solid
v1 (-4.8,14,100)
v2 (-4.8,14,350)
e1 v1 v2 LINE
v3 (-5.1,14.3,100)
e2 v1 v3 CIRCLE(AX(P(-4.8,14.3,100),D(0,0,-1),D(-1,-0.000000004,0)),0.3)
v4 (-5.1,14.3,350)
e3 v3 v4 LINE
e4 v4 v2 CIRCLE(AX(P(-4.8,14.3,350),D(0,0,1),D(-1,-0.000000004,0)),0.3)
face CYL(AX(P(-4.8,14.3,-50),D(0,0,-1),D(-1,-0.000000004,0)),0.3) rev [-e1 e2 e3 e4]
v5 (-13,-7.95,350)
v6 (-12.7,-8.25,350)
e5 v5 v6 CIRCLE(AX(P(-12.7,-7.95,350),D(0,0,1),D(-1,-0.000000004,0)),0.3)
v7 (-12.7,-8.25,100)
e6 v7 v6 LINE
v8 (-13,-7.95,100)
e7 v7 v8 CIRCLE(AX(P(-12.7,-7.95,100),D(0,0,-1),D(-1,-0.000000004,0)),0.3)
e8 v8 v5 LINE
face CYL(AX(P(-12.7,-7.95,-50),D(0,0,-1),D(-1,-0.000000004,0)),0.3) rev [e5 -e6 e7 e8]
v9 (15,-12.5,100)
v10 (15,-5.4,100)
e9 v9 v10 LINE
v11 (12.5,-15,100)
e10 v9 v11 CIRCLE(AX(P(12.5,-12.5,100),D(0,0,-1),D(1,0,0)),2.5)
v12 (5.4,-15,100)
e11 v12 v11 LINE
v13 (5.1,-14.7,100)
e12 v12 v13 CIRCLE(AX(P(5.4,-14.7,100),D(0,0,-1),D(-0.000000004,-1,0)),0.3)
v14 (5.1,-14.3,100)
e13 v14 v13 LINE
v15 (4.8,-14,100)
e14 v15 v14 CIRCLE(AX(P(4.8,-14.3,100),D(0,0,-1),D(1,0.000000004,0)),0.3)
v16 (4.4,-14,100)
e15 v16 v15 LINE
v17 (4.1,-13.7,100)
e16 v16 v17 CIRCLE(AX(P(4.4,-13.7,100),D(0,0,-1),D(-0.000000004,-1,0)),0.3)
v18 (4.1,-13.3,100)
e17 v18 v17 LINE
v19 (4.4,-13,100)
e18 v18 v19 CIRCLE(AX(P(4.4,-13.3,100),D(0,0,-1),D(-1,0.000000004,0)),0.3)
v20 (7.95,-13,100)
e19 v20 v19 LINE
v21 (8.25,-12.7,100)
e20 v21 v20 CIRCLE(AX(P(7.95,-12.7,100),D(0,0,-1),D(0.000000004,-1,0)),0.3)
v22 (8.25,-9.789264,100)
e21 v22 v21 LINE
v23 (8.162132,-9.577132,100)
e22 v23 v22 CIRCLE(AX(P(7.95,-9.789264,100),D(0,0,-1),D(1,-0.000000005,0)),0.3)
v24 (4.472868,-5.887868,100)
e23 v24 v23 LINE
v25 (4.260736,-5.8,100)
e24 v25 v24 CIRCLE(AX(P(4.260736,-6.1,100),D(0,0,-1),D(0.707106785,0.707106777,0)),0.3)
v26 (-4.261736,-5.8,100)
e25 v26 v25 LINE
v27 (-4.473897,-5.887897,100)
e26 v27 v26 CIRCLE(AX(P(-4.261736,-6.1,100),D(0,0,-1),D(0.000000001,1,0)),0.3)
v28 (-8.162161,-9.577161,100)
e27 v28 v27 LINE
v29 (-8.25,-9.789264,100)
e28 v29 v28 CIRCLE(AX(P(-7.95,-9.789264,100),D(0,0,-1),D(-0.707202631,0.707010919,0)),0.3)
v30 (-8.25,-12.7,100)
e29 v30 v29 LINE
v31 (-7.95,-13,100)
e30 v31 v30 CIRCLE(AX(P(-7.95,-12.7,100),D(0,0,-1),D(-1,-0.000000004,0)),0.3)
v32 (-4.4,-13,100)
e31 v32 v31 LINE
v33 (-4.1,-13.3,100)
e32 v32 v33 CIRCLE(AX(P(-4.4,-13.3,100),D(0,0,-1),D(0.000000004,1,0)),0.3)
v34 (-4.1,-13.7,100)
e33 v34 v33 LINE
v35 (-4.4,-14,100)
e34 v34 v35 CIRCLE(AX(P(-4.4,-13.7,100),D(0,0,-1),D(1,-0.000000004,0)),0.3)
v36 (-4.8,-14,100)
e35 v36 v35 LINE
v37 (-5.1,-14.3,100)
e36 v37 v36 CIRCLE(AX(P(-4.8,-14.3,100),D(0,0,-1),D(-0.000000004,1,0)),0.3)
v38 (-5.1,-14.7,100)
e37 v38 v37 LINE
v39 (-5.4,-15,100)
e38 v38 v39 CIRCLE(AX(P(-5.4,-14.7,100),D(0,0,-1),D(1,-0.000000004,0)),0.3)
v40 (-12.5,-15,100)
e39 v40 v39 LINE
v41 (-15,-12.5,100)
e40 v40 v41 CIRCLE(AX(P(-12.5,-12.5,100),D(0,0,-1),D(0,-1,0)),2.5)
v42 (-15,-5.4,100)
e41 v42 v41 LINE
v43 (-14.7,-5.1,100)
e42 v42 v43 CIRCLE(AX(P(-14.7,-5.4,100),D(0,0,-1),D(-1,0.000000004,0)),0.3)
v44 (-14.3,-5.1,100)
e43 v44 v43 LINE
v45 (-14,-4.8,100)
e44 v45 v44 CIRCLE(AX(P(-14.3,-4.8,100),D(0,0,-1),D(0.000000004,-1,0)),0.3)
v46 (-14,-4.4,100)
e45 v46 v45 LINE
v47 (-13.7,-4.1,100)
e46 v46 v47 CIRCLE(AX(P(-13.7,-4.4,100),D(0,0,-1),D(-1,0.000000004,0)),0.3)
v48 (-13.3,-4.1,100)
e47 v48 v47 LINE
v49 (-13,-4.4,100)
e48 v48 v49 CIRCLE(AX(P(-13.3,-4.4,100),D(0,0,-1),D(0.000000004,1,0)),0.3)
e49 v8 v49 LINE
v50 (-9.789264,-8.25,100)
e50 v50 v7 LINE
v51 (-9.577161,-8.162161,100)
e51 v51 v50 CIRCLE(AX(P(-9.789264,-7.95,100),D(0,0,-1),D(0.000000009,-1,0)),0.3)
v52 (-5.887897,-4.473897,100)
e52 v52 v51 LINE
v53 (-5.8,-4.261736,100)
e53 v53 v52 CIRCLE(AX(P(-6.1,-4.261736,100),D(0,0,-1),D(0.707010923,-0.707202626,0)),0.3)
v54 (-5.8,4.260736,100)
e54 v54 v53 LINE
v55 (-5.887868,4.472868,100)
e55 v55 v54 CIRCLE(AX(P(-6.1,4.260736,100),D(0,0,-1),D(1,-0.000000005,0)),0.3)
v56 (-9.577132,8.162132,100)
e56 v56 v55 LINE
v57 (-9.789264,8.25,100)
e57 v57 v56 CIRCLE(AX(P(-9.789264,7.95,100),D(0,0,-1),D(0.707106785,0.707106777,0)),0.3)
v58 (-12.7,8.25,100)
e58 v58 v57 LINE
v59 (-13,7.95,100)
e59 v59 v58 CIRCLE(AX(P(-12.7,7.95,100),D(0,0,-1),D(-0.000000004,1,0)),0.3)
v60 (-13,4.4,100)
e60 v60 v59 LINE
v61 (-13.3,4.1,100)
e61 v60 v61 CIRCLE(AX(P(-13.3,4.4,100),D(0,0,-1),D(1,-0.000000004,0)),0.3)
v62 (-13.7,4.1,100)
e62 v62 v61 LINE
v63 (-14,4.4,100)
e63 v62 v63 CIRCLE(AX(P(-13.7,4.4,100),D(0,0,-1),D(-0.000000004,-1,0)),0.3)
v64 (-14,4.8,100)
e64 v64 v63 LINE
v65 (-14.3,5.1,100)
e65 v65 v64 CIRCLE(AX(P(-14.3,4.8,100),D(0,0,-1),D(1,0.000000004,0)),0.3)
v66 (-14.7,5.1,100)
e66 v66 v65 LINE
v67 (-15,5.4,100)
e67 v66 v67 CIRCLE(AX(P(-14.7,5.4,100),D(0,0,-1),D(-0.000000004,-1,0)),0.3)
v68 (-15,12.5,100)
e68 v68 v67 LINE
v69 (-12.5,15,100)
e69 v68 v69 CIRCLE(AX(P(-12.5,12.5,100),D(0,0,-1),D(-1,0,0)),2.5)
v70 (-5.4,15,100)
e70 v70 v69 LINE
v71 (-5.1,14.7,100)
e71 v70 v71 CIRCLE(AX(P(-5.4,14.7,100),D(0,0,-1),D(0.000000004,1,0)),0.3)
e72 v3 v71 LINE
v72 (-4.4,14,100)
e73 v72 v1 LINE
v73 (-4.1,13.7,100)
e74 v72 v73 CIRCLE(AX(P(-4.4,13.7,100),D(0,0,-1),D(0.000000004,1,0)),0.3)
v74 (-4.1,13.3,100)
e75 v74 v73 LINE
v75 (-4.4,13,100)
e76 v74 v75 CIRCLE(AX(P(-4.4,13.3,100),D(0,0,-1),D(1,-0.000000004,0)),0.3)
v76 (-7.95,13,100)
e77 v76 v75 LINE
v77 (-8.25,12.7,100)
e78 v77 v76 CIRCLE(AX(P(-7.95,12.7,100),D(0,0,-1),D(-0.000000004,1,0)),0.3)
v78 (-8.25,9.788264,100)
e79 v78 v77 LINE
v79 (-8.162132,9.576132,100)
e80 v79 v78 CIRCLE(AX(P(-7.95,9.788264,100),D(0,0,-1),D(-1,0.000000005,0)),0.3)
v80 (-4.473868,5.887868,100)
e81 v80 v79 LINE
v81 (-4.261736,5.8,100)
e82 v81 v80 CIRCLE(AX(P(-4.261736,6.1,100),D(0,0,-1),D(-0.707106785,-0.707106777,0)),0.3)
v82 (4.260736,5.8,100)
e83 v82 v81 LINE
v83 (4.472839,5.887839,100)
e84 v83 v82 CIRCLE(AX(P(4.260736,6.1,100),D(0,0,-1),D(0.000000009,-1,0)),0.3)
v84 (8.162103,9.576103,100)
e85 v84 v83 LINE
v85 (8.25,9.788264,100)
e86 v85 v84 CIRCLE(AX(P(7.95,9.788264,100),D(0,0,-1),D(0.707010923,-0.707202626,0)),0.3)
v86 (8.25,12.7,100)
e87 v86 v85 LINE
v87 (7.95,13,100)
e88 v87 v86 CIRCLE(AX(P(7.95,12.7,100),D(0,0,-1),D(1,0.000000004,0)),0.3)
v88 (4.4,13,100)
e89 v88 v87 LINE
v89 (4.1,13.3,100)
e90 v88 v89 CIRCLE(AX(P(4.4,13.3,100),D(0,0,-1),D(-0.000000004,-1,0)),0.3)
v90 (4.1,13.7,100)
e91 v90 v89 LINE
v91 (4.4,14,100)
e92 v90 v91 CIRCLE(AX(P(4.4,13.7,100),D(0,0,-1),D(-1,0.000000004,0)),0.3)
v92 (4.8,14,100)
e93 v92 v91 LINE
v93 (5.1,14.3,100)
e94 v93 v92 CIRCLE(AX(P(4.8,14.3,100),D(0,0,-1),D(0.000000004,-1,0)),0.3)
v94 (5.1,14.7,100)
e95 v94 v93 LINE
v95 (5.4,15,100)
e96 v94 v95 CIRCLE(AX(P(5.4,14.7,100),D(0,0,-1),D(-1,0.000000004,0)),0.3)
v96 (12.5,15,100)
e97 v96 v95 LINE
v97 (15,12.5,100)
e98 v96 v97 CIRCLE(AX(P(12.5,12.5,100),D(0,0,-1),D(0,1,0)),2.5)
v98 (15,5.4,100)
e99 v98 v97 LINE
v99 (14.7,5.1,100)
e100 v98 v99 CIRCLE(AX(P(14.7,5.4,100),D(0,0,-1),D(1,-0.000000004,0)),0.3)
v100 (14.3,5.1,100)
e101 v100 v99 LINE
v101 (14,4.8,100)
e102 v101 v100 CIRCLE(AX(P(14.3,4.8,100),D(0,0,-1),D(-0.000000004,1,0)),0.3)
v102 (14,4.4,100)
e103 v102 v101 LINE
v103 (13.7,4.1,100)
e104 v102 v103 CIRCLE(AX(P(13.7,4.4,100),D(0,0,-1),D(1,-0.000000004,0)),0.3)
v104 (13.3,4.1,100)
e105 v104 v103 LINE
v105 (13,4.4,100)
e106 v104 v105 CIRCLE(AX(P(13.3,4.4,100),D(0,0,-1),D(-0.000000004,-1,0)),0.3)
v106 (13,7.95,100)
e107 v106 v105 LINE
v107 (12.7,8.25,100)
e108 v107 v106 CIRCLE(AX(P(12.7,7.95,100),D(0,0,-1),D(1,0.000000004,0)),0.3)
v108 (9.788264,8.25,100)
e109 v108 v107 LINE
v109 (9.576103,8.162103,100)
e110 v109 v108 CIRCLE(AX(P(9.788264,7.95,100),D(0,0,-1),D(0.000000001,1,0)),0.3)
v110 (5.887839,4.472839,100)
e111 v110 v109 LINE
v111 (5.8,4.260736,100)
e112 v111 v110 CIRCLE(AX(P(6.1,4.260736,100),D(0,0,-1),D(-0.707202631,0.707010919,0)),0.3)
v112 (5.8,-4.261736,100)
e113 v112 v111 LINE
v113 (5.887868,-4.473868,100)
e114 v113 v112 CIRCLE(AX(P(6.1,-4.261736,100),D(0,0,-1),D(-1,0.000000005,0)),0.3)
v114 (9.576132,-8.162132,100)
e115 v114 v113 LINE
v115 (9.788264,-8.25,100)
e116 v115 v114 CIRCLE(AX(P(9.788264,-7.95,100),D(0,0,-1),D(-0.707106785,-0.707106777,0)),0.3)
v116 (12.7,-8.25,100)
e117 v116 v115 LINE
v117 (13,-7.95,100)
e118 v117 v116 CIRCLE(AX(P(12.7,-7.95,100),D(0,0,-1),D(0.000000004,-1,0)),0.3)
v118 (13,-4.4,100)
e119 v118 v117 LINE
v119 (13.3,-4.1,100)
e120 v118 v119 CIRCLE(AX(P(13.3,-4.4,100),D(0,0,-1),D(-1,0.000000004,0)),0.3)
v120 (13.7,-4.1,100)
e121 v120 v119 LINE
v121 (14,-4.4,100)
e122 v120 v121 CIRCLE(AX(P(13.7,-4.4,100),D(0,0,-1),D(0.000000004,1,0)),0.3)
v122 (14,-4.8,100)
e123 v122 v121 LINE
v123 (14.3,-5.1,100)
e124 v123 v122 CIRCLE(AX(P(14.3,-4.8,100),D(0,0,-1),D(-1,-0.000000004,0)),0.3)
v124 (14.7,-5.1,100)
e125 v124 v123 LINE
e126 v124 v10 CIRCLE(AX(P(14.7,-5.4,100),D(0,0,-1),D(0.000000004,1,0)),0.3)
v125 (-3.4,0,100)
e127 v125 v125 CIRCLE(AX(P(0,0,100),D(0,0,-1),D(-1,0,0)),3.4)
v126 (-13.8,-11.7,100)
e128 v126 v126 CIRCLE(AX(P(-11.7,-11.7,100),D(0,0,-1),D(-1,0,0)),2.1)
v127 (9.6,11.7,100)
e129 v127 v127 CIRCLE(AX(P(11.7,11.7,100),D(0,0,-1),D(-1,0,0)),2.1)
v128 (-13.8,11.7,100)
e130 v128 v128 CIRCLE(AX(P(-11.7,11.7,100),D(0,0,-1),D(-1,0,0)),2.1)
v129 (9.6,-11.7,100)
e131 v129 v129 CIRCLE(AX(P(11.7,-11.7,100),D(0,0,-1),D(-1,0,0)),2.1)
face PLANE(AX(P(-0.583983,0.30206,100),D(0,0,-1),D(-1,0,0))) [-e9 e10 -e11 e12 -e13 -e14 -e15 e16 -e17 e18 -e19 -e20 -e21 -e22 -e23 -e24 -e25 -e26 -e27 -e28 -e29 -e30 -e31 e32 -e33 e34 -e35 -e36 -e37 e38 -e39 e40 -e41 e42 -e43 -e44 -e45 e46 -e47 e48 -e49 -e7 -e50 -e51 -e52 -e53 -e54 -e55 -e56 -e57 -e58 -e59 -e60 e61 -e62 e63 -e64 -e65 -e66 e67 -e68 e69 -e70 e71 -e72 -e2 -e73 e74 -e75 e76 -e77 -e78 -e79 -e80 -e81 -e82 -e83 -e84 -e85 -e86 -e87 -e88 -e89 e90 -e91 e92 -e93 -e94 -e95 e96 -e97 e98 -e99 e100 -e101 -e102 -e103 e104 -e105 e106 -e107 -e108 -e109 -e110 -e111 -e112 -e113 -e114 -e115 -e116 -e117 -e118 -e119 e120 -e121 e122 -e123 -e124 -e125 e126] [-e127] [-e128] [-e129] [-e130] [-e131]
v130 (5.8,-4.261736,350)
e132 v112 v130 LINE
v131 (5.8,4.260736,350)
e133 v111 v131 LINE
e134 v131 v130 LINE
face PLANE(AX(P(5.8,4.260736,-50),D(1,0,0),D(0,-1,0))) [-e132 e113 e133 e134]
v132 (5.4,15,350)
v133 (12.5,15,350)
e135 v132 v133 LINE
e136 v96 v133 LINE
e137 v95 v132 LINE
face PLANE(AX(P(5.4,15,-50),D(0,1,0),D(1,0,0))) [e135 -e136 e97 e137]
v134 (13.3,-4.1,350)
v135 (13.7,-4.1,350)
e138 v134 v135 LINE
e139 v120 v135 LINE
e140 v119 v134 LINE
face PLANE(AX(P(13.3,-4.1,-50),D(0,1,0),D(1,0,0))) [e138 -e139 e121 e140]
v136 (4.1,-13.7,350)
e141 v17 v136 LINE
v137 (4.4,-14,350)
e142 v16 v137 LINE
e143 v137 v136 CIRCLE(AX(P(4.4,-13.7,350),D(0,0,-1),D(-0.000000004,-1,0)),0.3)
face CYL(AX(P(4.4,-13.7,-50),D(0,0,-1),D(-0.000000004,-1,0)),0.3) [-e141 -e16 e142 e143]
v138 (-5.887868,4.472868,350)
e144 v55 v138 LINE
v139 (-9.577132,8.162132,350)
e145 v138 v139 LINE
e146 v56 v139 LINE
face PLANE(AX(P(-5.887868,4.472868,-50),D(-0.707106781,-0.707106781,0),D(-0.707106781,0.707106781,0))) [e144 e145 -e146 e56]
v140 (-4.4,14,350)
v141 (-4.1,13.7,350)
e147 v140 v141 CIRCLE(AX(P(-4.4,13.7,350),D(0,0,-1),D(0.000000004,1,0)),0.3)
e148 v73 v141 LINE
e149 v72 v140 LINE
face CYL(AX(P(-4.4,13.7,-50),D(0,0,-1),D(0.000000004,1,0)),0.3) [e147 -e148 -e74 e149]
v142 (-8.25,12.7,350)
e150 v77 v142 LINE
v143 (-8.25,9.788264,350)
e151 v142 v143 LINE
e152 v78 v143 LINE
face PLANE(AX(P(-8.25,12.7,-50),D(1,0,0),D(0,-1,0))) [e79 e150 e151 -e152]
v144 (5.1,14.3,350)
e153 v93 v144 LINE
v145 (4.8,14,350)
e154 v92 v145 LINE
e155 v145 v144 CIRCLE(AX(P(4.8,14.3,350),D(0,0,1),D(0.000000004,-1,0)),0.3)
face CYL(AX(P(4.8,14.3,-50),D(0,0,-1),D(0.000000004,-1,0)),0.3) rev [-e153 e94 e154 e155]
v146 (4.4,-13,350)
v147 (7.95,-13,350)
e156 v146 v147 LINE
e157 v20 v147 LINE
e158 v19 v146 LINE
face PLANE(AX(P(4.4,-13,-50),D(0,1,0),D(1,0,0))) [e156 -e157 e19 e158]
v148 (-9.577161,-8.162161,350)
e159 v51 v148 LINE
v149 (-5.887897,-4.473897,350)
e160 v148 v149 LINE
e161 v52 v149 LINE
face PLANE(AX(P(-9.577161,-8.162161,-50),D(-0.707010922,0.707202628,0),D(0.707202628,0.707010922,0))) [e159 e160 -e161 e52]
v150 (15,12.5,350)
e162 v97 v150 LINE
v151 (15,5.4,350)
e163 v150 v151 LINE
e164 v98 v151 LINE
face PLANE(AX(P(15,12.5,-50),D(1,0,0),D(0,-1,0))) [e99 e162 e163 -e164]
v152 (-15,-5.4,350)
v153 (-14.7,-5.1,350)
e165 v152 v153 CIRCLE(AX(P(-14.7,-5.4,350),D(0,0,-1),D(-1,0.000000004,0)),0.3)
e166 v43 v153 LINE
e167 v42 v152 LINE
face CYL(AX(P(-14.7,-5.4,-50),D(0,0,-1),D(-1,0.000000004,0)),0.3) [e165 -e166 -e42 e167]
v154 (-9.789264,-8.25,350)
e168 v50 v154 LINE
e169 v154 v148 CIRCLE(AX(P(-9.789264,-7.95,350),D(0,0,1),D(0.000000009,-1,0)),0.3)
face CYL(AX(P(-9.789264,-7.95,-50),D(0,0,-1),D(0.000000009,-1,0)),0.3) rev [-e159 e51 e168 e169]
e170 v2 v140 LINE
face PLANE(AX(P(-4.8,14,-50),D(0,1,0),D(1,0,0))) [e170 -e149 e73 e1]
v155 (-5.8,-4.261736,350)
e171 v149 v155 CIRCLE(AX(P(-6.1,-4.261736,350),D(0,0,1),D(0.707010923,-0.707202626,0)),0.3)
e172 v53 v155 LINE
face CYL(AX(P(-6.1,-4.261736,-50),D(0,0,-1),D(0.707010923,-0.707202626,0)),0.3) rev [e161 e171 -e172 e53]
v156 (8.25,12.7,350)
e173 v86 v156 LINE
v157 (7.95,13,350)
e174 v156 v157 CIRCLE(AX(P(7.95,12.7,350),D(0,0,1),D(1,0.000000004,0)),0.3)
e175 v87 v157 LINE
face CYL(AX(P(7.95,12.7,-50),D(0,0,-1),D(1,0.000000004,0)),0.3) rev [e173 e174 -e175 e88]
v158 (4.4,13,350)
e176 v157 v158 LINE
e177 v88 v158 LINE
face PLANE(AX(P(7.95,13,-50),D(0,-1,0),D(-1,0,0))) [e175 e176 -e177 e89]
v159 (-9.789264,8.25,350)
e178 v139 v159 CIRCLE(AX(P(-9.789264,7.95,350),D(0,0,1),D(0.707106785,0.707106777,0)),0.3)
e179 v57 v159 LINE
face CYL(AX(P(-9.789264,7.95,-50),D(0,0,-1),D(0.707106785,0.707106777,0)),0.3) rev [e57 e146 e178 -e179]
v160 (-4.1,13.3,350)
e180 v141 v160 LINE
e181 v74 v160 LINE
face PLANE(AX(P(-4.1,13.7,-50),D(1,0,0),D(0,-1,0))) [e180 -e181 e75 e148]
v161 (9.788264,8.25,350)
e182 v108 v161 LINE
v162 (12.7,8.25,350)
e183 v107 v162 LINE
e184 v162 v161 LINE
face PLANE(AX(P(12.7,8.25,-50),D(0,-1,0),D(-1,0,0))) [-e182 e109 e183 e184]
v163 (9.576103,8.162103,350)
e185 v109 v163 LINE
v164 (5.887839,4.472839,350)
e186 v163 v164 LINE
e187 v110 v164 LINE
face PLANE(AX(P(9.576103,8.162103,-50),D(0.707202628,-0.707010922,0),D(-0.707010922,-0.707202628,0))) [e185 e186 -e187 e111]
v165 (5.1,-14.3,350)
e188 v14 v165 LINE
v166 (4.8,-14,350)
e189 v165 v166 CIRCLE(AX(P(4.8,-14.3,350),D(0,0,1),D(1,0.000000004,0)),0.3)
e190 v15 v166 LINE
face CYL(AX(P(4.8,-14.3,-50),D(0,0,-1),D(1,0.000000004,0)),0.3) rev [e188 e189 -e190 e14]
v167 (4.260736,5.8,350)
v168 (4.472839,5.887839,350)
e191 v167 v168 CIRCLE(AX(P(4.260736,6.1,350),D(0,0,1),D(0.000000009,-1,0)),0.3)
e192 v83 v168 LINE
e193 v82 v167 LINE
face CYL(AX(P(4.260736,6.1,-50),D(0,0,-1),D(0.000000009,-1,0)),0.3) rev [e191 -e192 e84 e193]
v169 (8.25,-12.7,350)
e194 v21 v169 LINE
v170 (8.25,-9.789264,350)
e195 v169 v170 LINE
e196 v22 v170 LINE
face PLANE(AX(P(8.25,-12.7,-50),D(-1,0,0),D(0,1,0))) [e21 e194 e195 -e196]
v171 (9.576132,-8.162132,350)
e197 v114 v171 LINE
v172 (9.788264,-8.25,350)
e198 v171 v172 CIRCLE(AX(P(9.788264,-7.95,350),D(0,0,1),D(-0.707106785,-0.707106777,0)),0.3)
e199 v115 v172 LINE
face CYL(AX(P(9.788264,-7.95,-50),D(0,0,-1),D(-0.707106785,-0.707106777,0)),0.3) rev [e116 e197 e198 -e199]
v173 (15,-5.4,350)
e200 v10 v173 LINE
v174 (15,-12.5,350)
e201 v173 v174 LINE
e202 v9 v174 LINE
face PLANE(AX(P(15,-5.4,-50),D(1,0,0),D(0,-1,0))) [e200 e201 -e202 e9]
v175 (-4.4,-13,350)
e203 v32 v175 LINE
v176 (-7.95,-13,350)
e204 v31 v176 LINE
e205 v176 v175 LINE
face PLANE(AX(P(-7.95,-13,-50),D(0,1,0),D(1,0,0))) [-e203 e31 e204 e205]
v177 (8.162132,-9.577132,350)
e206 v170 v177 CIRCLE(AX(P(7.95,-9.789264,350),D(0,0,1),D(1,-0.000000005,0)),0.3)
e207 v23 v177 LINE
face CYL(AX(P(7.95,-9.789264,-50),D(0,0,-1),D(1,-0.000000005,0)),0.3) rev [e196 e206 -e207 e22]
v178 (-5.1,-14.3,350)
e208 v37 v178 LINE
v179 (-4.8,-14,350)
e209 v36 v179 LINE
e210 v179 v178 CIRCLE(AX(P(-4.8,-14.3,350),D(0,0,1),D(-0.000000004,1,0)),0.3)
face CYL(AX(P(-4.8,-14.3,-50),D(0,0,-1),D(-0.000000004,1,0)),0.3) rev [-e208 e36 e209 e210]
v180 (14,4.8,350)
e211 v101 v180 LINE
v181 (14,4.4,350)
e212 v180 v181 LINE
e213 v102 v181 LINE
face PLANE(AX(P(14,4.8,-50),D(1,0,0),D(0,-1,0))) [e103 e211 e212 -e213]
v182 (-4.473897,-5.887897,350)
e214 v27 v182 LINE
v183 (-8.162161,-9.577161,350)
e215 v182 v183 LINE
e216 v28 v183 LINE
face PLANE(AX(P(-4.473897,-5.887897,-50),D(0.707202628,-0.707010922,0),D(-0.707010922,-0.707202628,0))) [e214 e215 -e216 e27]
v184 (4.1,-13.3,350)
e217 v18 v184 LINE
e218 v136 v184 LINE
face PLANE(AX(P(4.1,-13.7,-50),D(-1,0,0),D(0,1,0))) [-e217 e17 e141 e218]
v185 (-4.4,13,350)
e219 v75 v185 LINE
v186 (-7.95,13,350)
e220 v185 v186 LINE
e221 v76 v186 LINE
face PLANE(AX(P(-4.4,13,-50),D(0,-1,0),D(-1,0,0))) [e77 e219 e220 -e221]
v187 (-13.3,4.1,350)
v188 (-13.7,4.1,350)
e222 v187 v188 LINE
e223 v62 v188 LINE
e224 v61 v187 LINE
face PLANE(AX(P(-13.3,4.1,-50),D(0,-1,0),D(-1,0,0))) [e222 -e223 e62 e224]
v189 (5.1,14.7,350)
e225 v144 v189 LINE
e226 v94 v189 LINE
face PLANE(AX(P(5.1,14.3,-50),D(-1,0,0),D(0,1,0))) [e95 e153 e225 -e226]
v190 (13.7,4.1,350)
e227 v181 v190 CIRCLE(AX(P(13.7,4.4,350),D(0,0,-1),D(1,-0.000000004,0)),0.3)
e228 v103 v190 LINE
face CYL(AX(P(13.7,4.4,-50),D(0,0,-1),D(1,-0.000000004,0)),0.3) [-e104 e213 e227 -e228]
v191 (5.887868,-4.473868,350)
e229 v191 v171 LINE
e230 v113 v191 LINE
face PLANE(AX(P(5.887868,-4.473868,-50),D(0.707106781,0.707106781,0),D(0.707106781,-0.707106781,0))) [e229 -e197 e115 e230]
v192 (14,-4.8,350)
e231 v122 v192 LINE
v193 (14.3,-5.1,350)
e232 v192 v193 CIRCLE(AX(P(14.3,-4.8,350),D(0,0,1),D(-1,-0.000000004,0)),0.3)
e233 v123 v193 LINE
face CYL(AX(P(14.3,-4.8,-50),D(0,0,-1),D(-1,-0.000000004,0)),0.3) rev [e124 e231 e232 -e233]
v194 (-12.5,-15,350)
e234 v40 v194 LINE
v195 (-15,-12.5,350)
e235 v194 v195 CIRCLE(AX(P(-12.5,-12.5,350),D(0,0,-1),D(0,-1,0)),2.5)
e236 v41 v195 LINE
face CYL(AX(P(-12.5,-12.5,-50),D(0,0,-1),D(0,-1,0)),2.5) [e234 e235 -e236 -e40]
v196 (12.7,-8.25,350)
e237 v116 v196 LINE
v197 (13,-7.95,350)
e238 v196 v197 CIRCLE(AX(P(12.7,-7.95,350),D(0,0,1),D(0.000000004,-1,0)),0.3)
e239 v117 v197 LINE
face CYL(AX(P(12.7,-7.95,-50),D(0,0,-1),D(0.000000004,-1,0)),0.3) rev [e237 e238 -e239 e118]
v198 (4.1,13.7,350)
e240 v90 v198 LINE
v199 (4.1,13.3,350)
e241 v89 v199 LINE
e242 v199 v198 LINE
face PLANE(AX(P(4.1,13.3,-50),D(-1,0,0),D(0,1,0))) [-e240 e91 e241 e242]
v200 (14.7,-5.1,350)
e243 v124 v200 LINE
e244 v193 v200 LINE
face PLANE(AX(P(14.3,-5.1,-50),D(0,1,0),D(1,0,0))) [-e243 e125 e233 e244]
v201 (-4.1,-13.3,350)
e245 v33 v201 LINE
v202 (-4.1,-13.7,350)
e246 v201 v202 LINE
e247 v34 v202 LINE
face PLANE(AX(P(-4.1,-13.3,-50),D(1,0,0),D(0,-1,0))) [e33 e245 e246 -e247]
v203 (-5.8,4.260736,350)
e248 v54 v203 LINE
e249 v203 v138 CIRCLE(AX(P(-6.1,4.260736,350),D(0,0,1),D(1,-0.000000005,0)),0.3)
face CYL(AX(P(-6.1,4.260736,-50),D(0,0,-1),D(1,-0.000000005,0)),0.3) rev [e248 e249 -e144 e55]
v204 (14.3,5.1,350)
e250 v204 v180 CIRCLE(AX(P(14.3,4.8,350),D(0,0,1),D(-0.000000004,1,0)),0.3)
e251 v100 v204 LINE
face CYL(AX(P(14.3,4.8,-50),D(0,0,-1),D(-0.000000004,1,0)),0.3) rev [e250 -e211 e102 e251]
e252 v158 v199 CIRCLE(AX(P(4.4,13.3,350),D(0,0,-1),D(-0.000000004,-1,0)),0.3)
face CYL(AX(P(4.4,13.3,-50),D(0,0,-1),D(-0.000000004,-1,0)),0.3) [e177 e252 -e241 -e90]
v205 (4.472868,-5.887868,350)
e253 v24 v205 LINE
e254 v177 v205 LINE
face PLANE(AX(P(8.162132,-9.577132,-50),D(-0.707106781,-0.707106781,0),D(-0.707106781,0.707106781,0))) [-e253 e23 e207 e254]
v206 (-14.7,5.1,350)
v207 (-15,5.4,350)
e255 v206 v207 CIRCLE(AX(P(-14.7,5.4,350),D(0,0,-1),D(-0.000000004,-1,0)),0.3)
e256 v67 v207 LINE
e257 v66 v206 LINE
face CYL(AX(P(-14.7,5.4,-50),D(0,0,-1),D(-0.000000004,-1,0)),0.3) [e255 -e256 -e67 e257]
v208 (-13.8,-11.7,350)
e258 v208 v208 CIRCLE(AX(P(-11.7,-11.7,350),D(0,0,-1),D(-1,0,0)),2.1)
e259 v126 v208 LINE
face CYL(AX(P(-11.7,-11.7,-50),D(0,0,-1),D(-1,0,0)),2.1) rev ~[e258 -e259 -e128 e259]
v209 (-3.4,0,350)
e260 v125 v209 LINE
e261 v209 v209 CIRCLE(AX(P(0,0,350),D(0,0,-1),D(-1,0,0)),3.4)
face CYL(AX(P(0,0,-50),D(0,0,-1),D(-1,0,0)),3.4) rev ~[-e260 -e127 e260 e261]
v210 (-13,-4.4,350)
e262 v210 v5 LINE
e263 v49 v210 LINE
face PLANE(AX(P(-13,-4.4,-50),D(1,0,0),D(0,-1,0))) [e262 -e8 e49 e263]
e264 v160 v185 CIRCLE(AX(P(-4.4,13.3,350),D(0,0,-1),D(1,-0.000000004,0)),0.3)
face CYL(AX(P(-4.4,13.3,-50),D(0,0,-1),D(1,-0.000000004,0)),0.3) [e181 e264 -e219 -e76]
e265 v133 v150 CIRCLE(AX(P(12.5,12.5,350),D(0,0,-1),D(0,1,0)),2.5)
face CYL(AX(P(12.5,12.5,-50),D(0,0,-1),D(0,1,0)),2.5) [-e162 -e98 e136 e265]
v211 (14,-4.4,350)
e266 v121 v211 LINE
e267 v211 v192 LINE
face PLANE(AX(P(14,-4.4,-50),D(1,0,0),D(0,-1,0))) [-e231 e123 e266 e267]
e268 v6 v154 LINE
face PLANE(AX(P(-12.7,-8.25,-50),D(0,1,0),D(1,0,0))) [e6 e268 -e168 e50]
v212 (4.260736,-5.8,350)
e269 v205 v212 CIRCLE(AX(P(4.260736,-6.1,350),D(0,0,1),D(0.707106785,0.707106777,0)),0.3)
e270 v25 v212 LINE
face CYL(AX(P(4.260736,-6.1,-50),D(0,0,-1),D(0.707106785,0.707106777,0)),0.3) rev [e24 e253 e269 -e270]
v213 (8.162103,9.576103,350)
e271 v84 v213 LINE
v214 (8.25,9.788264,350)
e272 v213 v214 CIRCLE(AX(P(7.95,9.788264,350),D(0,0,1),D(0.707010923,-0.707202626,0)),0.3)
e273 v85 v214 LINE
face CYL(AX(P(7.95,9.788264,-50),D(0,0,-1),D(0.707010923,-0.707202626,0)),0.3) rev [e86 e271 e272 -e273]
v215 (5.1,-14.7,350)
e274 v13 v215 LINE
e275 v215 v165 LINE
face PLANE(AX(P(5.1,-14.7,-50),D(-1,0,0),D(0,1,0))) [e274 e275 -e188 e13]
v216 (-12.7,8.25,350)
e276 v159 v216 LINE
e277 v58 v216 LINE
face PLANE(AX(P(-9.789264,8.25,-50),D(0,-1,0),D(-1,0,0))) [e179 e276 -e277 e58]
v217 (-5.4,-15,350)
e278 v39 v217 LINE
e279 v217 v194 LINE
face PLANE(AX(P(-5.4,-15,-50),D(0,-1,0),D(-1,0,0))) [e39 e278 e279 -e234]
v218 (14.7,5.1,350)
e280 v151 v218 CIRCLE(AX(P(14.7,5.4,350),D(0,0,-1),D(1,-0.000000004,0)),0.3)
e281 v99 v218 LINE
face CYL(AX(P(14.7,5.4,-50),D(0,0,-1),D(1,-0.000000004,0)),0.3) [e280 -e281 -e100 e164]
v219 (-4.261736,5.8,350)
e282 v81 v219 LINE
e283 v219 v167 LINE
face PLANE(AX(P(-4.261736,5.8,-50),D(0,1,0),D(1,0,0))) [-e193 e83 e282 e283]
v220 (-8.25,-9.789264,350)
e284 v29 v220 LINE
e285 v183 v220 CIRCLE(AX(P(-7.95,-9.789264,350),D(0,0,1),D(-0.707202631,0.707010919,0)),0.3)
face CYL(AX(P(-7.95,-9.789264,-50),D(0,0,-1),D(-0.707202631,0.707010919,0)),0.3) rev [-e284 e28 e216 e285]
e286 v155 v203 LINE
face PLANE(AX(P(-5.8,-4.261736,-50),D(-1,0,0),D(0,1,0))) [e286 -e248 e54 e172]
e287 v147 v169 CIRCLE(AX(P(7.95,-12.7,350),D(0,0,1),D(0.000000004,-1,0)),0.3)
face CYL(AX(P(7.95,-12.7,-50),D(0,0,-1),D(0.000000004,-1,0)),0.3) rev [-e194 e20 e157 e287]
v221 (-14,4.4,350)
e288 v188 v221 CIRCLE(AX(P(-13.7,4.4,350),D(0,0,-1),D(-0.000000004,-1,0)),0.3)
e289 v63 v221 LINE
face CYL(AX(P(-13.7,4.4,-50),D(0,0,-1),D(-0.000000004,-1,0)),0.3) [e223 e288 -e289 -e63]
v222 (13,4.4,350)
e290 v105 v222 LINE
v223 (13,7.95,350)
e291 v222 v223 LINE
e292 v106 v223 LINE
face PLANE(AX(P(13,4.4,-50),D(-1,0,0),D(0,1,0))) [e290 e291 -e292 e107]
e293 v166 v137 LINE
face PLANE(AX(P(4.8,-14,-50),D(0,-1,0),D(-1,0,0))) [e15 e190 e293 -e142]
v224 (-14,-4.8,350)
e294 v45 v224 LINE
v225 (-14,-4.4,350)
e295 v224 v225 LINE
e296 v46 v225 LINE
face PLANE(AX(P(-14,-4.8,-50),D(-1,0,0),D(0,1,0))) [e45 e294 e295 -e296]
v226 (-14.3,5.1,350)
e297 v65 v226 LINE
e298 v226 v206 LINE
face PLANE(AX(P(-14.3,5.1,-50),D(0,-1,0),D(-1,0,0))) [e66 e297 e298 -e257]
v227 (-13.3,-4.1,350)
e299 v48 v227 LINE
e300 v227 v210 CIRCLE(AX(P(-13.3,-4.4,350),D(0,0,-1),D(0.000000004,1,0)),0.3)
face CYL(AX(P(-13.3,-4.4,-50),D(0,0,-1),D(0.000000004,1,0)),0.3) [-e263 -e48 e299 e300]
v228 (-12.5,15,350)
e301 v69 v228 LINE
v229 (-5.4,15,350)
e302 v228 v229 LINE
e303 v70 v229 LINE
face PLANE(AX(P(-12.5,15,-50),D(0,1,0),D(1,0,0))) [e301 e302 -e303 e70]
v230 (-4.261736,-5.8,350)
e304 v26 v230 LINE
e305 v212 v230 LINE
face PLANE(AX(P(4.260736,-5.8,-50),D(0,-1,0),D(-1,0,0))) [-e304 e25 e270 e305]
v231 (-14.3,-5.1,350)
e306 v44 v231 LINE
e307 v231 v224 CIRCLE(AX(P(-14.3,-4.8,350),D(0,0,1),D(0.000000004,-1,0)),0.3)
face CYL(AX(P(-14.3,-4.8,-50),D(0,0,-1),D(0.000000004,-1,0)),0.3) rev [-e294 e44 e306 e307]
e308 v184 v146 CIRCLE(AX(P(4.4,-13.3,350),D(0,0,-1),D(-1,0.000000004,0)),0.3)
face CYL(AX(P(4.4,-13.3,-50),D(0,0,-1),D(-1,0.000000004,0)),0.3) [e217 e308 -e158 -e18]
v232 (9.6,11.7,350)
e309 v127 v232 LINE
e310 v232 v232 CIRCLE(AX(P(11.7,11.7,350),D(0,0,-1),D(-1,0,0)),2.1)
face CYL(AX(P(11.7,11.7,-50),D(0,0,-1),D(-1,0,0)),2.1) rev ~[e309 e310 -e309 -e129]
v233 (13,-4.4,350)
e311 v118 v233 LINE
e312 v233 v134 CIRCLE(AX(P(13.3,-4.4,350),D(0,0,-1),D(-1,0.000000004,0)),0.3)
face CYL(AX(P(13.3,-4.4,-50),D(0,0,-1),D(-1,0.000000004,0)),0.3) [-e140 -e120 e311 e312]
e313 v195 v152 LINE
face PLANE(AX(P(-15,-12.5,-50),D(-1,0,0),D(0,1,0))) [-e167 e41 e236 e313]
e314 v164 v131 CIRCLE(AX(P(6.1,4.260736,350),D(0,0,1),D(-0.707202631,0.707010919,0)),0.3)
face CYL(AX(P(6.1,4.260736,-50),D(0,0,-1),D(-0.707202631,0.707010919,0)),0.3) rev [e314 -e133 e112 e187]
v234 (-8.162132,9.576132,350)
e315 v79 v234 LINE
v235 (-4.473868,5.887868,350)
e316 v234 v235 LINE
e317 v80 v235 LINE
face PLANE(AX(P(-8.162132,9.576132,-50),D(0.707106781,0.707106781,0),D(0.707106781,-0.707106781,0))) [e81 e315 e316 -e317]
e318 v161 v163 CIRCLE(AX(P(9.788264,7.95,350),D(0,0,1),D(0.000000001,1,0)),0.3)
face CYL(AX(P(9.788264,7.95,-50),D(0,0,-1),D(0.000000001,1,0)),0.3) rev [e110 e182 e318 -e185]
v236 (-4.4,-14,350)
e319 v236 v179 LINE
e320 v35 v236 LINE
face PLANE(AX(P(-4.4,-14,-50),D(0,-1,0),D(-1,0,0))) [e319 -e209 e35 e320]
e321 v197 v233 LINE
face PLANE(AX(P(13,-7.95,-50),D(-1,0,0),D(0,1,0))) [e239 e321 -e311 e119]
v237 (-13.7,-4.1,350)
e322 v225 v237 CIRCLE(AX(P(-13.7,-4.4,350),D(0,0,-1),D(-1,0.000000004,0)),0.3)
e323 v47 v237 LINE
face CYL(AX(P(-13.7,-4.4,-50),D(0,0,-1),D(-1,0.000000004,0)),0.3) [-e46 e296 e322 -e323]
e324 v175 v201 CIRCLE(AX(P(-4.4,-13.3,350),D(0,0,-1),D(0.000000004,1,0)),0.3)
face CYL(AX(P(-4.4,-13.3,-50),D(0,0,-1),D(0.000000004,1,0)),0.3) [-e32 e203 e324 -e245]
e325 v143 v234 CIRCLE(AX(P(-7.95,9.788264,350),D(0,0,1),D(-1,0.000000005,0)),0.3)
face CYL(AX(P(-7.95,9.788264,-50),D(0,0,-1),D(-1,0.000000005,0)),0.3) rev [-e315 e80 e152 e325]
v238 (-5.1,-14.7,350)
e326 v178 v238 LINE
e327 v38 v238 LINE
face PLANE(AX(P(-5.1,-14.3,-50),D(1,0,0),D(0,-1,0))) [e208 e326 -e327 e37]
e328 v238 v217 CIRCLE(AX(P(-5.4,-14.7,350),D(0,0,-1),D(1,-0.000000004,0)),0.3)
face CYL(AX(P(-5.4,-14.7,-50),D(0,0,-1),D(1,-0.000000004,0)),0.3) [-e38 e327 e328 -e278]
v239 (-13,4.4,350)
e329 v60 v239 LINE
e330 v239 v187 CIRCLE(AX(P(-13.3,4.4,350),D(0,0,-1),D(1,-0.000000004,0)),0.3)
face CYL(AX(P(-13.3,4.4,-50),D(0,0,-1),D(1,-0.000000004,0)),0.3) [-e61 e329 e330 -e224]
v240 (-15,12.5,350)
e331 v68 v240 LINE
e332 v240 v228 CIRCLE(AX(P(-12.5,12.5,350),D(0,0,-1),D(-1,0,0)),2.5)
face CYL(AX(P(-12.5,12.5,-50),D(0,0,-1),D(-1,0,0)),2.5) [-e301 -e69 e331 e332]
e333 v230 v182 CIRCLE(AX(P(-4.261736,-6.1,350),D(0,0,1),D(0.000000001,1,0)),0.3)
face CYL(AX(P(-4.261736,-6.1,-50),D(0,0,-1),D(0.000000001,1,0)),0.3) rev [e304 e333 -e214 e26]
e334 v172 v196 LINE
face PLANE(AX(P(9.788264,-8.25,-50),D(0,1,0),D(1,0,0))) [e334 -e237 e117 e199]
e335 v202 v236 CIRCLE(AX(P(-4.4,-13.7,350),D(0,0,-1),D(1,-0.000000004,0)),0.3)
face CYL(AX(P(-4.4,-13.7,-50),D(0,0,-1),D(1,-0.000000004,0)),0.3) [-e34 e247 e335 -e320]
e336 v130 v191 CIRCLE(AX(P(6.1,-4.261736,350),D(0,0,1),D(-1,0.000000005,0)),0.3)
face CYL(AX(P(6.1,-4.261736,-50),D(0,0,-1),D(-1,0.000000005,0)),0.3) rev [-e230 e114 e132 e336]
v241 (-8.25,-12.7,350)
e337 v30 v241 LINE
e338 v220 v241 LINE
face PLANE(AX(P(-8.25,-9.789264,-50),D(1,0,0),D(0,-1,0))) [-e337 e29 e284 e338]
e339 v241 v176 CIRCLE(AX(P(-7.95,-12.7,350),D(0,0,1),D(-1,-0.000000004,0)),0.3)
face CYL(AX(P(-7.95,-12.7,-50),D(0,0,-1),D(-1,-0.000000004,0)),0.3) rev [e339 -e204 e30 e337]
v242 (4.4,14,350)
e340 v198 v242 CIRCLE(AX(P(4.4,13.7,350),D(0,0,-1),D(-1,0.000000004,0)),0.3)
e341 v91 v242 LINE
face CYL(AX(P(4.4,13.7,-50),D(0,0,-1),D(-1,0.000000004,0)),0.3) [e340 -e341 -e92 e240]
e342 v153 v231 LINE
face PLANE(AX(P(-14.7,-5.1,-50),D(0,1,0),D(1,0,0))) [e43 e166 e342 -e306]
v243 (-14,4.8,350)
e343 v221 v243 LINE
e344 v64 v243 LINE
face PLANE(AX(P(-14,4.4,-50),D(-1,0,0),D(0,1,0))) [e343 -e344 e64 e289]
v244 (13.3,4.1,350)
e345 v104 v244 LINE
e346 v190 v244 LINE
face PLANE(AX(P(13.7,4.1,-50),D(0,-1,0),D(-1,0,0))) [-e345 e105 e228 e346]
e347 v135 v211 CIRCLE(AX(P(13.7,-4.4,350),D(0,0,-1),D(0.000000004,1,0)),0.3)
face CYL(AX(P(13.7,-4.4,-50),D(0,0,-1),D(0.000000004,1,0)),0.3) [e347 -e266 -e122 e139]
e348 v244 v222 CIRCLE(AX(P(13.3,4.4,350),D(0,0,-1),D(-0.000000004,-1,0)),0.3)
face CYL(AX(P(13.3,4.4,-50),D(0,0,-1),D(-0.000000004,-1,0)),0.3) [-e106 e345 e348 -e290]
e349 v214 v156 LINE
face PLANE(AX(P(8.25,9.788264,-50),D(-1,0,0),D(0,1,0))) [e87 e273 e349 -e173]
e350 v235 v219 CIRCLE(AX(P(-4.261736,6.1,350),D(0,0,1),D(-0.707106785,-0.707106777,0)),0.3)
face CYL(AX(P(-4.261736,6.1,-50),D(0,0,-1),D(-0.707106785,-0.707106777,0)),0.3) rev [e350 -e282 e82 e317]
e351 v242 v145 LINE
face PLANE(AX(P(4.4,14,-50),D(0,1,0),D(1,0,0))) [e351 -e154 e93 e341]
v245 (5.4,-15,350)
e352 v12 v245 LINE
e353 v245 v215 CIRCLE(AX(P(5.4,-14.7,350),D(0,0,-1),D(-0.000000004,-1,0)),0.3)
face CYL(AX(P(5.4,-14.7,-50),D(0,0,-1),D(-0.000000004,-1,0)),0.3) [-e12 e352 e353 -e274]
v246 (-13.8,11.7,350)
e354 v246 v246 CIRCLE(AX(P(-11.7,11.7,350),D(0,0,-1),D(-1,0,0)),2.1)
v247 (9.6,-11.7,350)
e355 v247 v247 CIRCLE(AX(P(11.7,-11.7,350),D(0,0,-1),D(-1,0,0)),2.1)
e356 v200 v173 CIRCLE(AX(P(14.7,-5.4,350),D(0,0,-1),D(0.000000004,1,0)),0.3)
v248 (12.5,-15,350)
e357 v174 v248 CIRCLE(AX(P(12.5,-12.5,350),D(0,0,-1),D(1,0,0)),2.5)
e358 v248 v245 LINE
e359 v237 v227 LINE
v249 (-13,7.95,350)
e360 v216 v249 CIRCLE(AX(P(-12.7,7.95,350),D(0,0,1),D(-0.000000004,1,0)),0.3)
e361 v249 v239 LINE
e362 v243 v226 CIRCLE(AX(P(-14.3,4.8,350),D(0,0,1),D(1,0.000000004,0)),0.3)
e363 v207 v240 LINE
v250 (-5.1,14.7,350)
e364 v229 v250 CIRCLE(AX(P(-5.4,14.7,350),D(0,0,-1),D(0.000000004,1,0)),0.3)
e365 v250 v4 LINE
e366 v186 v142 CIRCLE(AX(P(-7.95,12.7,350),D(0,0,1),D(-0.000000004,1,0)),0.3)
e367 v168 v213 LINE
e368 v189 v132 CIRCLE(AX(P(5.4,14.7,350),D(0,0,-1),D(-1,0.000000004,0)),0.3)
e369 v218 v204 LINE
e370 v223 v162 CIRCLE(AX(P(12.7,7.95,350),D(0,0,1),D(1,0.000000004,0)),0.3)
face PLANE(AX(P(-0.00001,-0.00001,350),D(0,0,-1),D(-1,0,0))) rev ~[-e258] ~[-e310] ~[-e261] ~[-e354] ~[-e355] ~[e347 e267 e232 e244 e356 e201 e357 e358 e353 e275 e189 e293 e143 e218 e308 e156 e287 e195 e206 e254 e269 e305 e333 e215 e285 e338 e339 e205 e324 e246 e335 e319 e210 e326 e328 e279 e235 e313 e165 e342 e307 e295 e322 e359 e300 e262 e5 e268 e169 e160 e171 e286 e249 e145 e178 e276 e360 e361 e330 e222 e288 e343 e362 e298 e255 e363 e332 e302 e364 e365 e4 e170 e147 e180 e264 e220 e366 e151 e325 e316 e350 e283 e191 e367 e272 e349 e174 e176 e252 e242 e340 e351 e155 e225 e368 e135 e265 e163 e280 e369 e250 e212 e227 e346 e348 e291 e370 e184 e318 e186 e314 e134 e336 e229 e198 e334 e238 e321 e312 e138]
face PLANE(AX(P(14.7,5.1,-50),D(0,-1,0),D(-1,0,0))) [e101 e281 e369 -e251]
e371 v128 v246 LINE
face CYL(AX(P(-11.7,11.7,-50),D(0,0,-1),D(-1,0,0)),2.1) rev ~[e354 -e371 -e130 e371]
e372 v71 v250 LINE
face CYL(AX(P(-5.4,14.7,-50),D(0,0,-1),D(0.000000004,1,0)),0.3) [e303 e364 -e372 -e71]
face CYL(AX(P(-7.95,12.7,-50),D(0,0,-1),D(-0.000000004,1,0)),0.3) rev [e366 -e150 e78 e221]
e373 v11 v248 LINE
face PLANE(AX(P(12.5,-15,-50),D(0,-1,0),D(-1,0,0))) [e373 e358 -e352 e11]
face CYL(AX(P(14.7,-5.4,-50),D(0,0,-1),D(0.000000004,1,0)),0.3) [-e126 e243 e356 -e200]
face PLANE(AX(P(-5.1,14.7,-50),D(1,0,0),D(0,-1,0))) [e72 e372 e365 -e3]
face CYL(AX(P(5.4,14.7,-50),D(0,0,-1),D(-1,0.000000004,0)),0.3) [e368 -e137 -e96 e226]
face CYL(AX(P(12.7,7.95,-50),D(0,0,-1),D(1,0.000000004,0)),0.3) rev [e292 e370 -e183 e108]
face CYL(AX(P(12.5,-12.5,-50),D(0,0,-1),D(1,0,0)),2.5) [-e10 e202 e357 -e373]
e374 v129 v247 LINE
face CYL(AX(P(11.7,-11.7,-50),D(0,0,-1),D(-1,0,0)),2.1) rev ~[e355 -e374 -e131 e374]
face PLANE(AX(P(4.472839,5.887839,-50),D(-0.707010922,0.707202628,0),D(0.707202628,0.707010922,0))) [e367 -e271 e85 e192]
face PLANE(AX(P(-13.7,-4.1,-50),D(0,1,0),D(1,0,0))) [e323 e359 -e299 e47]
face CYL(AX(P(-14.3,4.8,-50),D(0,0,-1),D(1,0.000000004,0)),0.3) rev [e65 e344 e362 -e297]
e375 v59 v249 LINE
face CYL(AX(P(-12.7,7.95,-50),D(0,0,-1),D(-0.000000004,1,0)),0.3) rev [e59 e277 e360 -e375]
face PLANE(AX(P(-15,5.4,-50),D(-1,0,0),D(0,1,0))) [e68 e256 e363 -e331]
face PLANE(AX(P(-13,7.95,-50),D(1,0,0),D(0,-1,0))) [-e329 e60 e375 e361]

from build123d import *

# Parameters (mm, degrees)
CROQUIS1_R              = 2.1
CROQUIS1_R_2            = 3.4
SALIENTE_EXTRUIR1_DEPTH = 400
CROQUIS3_W              = 36.891585518
CROQUIS3_H              = 31.857253434
CORTAR_EXTRUIR2_DEPTH   = 150


with BuildPart() as part:
    # Croquis1 → Saliente-Extruir1 (new body)
    with BuildSketch(Plane(origin=(0, 0, -50), x_dir=(-1, 0, 0), z_dir=(0, 0, -1))):
        with BuildLine():
            Line((14.7, -5.1), (14.3, -5.1))
            ThreePointArc((14.3, -5.1), (14.087867966, -5.012132034), (14, -4.8))
            Line((14, -4.8), (14, -4.4))
            ThreePointArc((14, -4.4), (13.912132034, -4.187867966), (13.7, -4.1))
            Line((13.7, -4.1), (13.3, -4.1))
            ThreePointArc((13.3, -4.1), (13.087867966, -4.187867966), (13, -4.4))
            Line((13, -4.4), (13, -7.95))
            ThreePointArc((13, -7.95), (12.912132034, -8.162132034), (12.7, -8.25))
            Line((12.7, -8.25), (9.789264108, -8.25))
            ThreePointArc((9.789264108, -8.25), (9.674477865, -8.22717164), (9.577160832, -8.162160788))
            Line((9.577160832, -8.162160788), (5.887896723, -4.473896751))
            ThreePointArc((5.887896723, -4.473896751), (5.822843922, -4.376559778), (5.8, -4.261735963))
            Line((5.8, -4.261735963), (5.8, 4.260735931))
            ThreePointArc((5.8, 4.260735931), (5.82283614, 4.375540961), (5.887867966, 4.472867966))
            Line((5.887867966, 4.472867966), (9.577132034, 8.162132034))
            ThreePointArc((9.577132034, 8.162132034), (9.674459039, 8.22716386), (9.789264069, 8.25))
            Line((9.789264069, 8.25), (12.7, 8.25))
            ThreePointArc((12.7, 8.25), (12.912132034, 8.162132034), (13, 7.95))
            Line((13, 7.95), (13, 4.4))
            ThreePointArc((13, 4.4), (13.087867966, 4.187867966), (13.3, 4.1))
            Line((13.3, 4.1), (13.7, 4.1))
            ThreePointArc((13.7, 4.1), (13.912132034, 4.187867966), (14, 4.4))
            Line((14, 4.4), (14, 4.8))
            ThreePointArc((14, 4.8), (14.087867966, 5.012132034), (14.3, 5.1))
            Line((14.3, 5.1), (14.7, 5.1))
            ThreePointArc((14.7, 5.1), (14.912132034, 5.187867966), (15, 5.4))
            Line((15, 5.4), (15, 12.5))
            ThreePointArc((15, 12.5), (14.267766953, 14.267766953), (12.5, 15))
            Line((12.5, 15), (5.4, 15))
            ThreePointArc((5.4, 15), (5.187867966, 14.912132034), (5.1, 14.7))
            Line((5.1, 14.7), (5.1, 14.3))
            ThreePointArc((5.1, 14.3), (5.012132034, 14.087867966), (4.8, 14))
            Line((4.8, 14), (4.4, 14))
            ThreePointArc((4.4, 14), (4.187867966, 13.912132034), (4.1, 13.7))
            Line((4.1, 13.7), (4.1, 13.3))
            ThreePointArc((4.1, 13.3), (4.187867966, 13.087867966), (4.4, 13))
            Line((4.4, 13), (7.95, 13))
            ThreePointArc((7.95, 13), (8.162132034, 12.912132034), (8.25, 12.7))
            Line((8.25, 12.7), (8.25, 9.788264069))
            ThreePointArc((8.25, 9.788264069), (8.22716386, 9.673459039), (8.162132034, 9.576132034))
            Line((8.162132034, 9.576132034), (4.473867966, 5.887867966))
            ThreePointArc((4.473867966, 5.887867966), (4.376540961, 5.82283614), (4.261735931, 5.8))
            Line((4.261735931, 5.8), (-4.260735892, 5.8))
            ThreePointArc((-4.260735892, 5.8), (-4.375522135, 5.82282836), (-4.472839168, 5.887839212))
            Line((-4.472839168, 5.887839212), (-8.162103277, 9.576103249))
            ThreePointArc((-8.162103277, 9.576103249), (-8.227156078, 9.673440222), (-8.25, 9.788264037))
            Line((-8.25, 9.788264037), (-8.25, 12.7))
            ThreePointArc((-8.25, 12.7), (-8.162132034, 12.912132034), (-7.95, 13))
            Line((-7.95, 13), (-4.4, 13))
            ThreePointArc((-4.4, 13), (-4.187867966, 13.087867966), (-4.1, 13.3))
            Line((-4.1, 13.3), (-4.1, 13.7))
            ThreePointArc((-4.1, 13.7), (-4.187867966, 13.912132034), (-4.4, 14))
            Line((-4.4, 14), (-4.8, 14))
            ThreePointArc((-4.8, 14), (-5.012132034, 14.087867966), (-5.1, 14.3))
            Line((-5.1, 14.3), (-5.1, 14.7))
            ThreePointArc((-5.1, 14.7), (-5.187867966, 14.912132034), (-5.4, 15))
            Line((-5.4, 15), (-12.5, 15))
            ThreePointArc((-12.5, 15), (-14.267766953, 14.267766953), (-15, 12.5))
            Line((-15, 12.5), (-15, 5.4))
            ThreePointArc((-15, 5.4), (-14.912132034, 5.187867966), (-14.7, 5.1))
            Line((-14.7, 5.1), (-14.3, 5.1))
            ThreePointArc((-14.3, 5.1), (-14.087867966, 5.012132034), (-14, 4.8))
            Line((-14, 4.8), (-14, 4.4))
            ThreePointArc((-14, 4.4), (-13.912132034, 4.187867966), (-13.7, 4.1))
            Line((-13.7, 4.1), (-13.3, 4.1))
            ThreePointArc((-13.3, 4.1), (-13.087867966, 4.187867966), (-13, 4.4))
            Line((-13, 4.4), (-13, 7.95))
            ThreePointArc((-13, 7.95), (-12.912132034, 8.162132034), (-12.7, 8.25))
            Line((-12.7, 8.25), (-9.788264037, 8.25))
            ThreePointArc((-9.788264037, 8.25), (-9.673440222, 8.227156078), (-9.576103249, 8.162103277))
            Line((-9.576103249, 8.162103277), (-5.887839212, 4.472839168))
            ThreePointArc((-5.887839212, 4.472839168), (-5.82282836, 4.375522135), (-5.8, 4.260735892))
            Line((-5.8, 4.260735892), (-5.8, -4.261735931))
            ThreePointArc((-5.8, -4.261735931), (-5.82283614, -4.376540961), (-5.887867966, -4.473867966))
            Line((-5.887867966, -4.473867966), (-9.576132034, -8.162132034))
            ThreePointArc((-9.576132034, -8.162132034), (-9.673459039, -8.22716386), (-9.788264069, -8.25))
            Line((-9.788264069, -8.25), (-12.7, -8.25))
            ThreePointArc((-12.7, -8.25), (-12.912132034, -8.162132034), (-13, -7.95))
            Line((-13, -7.95), (-13, -4.4))
            ThreePointArc((-13, -4.4), (-13.087867966, -4.187867966), (-13.3, -4.1))
            Line((-13.3, -4.1), (-13.7, -4.1))
            ThreePointArc((-13.7, -4.1), (-13.912132034, -4.187867966), (-14, -4.4))
            Line((-14, -4.4), (-14, -4.8))
            ThreePointArc((-14, -4.8), (-14.087867966, -5.012132034), (-14.3, -5.1))
            Line((-14.3, -5.1), (-14.7, -5.1))
            ThreePointArc((-14.7, -5.1), (-14.912132034, -5.187867966), (-15, -5.4))
            Line((-15, -5.4), (-15, -12.5))
            ThreePointArc((-15, -12.5), (-14.267766953, -14.267766953), (-12.5, -15))
            Line((-12.5, -15), (-5.4, -15))
            ThreePointArc((-5.4, -15), (-5.187867966, -14.912132034), (-5.1, -14.7))
            Line((-5.1, -14.7), (-5.1, -14.3))
            ThreePointArc((-5.1, -14.3), (-5.012132034, -14.087867966), (-4.8, -14))
            Line((-4.8, -14), (-4.4, -14))
            ThreePointArc((-4.4, -14), (-4.187867966, -13.912132034), (-4.1, -13.7))
            Line((-4.1, -13.7), (-4.1, -13.3))
            ThreePointArc((-4.1, -13.3), (-4.187867966, -13.087867966), (-4.4, -13))
            Line((-4.4, -13), (-7.95, -13))
            ThreePointArc((-7.95, -13), (-8.162132034, -12.912132034), (-8.25, -12.7))
            Line((-8.25, -12.7), (-8.25, -9.789264069))
            ThreePointArc((-8.25, -9.789264069), (-8.22716386, -9.674459039), (-8.162132034, -9.577132034))
            Line((-8.162132034, -9.577132034), (-4.472867966, -5.887867966))
            ThreePointArc((-4.472867966, -5.887867966), (-4.375540961, -5.82283614), (-4.260735931, -5.8))
            Line((-4.260735931, -5.8), (4.261735963, -5.8))
            ThreePointArc((4.261735963, -5.8), (4.376559778, -5.822843922), (4.473896751, -5.887896723))
            Line((4.473896751, -5.887896723), (8.162160788, -9.577160832))
            ThreePointArc((8.162160788, -9.577160832), (8.22717164, -9.674477865), (8.25, -9.789264108))
            Line((8.25, -9.789264108), (8.25, -12.7))
            ThreePointArc((8.25, -12.7), (8.162132034, -12.912132034), (7.95, -13))
            Line((7.95, -13), (4.4, -13))
            ThreePointArc((4.4, -13), (4.187867966, -13.087867966), (4.1, -13.3))
            Line((4.1, -13.3), (4.1, -13.7))
            ThreePointArc((4.1, -13.7), (4.187867966, -13.912132034), (4.4, -14))
            Line((4.4, -14), (4.8, -14))
            ThreePointArc((4.8, -14), (5.012132034, -14.087867966), (5.1, -14.3))
            Line((5.1, -14.3), (5.1, -14.7))
            ThreePointArc((5.1, -14.7), (5.187867966, -14.912132034), (5.4, -15))
            Line((5.4, -15), (12.5, -15))
            ThreePointArc((12.5, -15), (14.267766953, -14.267766953), (15, -12.5))
            Line((15, -12.5), (15, -5.4))
            ThreePointArc((15, -5.4), (14.912132034, -5.187867966), (14.7, -5.1))
        make_face()
        with Locations((-11.7, 11.7)):
            Circle(CROQUIS1_R, mode=Mode.SUBTRACT)
        with Locations((-11.7, -11.7)):
            Circle(CROQUIS1_R, mode=Mode.SUBTRACT)
        Circle(CROQUIS1_R_2, mode=Mode.SUBTRACT)
        with Locations((11.7, 11.7)):
            Circle(CROQUIS1_R, mode=Mode.SUBTRACT)
        with Locations((11.7, -11.7)):
            Circle(CROQUIS1_R, mode=Mode.SUBTRACT)
    extrude(amount=-SALIENTE_EXTRUIR1_DEPTH)

    # Croquis3 → Cortar-Extruir2 (cut)
    with BuildSketch(Plane(origin=(0, 0, -50), x_dir=(-1, 0, 0), z_dir=(0, 0, -1))):
        with Locations((0.583982522, 0.302059925)):
            Rectangle(CROQUIS3_W, CROQUIS3_H)
    extrude(amount=-CORTAR_EXTRUIR2_DEPTH, mode=Mode.SUBTRACT)


solid = part.part
